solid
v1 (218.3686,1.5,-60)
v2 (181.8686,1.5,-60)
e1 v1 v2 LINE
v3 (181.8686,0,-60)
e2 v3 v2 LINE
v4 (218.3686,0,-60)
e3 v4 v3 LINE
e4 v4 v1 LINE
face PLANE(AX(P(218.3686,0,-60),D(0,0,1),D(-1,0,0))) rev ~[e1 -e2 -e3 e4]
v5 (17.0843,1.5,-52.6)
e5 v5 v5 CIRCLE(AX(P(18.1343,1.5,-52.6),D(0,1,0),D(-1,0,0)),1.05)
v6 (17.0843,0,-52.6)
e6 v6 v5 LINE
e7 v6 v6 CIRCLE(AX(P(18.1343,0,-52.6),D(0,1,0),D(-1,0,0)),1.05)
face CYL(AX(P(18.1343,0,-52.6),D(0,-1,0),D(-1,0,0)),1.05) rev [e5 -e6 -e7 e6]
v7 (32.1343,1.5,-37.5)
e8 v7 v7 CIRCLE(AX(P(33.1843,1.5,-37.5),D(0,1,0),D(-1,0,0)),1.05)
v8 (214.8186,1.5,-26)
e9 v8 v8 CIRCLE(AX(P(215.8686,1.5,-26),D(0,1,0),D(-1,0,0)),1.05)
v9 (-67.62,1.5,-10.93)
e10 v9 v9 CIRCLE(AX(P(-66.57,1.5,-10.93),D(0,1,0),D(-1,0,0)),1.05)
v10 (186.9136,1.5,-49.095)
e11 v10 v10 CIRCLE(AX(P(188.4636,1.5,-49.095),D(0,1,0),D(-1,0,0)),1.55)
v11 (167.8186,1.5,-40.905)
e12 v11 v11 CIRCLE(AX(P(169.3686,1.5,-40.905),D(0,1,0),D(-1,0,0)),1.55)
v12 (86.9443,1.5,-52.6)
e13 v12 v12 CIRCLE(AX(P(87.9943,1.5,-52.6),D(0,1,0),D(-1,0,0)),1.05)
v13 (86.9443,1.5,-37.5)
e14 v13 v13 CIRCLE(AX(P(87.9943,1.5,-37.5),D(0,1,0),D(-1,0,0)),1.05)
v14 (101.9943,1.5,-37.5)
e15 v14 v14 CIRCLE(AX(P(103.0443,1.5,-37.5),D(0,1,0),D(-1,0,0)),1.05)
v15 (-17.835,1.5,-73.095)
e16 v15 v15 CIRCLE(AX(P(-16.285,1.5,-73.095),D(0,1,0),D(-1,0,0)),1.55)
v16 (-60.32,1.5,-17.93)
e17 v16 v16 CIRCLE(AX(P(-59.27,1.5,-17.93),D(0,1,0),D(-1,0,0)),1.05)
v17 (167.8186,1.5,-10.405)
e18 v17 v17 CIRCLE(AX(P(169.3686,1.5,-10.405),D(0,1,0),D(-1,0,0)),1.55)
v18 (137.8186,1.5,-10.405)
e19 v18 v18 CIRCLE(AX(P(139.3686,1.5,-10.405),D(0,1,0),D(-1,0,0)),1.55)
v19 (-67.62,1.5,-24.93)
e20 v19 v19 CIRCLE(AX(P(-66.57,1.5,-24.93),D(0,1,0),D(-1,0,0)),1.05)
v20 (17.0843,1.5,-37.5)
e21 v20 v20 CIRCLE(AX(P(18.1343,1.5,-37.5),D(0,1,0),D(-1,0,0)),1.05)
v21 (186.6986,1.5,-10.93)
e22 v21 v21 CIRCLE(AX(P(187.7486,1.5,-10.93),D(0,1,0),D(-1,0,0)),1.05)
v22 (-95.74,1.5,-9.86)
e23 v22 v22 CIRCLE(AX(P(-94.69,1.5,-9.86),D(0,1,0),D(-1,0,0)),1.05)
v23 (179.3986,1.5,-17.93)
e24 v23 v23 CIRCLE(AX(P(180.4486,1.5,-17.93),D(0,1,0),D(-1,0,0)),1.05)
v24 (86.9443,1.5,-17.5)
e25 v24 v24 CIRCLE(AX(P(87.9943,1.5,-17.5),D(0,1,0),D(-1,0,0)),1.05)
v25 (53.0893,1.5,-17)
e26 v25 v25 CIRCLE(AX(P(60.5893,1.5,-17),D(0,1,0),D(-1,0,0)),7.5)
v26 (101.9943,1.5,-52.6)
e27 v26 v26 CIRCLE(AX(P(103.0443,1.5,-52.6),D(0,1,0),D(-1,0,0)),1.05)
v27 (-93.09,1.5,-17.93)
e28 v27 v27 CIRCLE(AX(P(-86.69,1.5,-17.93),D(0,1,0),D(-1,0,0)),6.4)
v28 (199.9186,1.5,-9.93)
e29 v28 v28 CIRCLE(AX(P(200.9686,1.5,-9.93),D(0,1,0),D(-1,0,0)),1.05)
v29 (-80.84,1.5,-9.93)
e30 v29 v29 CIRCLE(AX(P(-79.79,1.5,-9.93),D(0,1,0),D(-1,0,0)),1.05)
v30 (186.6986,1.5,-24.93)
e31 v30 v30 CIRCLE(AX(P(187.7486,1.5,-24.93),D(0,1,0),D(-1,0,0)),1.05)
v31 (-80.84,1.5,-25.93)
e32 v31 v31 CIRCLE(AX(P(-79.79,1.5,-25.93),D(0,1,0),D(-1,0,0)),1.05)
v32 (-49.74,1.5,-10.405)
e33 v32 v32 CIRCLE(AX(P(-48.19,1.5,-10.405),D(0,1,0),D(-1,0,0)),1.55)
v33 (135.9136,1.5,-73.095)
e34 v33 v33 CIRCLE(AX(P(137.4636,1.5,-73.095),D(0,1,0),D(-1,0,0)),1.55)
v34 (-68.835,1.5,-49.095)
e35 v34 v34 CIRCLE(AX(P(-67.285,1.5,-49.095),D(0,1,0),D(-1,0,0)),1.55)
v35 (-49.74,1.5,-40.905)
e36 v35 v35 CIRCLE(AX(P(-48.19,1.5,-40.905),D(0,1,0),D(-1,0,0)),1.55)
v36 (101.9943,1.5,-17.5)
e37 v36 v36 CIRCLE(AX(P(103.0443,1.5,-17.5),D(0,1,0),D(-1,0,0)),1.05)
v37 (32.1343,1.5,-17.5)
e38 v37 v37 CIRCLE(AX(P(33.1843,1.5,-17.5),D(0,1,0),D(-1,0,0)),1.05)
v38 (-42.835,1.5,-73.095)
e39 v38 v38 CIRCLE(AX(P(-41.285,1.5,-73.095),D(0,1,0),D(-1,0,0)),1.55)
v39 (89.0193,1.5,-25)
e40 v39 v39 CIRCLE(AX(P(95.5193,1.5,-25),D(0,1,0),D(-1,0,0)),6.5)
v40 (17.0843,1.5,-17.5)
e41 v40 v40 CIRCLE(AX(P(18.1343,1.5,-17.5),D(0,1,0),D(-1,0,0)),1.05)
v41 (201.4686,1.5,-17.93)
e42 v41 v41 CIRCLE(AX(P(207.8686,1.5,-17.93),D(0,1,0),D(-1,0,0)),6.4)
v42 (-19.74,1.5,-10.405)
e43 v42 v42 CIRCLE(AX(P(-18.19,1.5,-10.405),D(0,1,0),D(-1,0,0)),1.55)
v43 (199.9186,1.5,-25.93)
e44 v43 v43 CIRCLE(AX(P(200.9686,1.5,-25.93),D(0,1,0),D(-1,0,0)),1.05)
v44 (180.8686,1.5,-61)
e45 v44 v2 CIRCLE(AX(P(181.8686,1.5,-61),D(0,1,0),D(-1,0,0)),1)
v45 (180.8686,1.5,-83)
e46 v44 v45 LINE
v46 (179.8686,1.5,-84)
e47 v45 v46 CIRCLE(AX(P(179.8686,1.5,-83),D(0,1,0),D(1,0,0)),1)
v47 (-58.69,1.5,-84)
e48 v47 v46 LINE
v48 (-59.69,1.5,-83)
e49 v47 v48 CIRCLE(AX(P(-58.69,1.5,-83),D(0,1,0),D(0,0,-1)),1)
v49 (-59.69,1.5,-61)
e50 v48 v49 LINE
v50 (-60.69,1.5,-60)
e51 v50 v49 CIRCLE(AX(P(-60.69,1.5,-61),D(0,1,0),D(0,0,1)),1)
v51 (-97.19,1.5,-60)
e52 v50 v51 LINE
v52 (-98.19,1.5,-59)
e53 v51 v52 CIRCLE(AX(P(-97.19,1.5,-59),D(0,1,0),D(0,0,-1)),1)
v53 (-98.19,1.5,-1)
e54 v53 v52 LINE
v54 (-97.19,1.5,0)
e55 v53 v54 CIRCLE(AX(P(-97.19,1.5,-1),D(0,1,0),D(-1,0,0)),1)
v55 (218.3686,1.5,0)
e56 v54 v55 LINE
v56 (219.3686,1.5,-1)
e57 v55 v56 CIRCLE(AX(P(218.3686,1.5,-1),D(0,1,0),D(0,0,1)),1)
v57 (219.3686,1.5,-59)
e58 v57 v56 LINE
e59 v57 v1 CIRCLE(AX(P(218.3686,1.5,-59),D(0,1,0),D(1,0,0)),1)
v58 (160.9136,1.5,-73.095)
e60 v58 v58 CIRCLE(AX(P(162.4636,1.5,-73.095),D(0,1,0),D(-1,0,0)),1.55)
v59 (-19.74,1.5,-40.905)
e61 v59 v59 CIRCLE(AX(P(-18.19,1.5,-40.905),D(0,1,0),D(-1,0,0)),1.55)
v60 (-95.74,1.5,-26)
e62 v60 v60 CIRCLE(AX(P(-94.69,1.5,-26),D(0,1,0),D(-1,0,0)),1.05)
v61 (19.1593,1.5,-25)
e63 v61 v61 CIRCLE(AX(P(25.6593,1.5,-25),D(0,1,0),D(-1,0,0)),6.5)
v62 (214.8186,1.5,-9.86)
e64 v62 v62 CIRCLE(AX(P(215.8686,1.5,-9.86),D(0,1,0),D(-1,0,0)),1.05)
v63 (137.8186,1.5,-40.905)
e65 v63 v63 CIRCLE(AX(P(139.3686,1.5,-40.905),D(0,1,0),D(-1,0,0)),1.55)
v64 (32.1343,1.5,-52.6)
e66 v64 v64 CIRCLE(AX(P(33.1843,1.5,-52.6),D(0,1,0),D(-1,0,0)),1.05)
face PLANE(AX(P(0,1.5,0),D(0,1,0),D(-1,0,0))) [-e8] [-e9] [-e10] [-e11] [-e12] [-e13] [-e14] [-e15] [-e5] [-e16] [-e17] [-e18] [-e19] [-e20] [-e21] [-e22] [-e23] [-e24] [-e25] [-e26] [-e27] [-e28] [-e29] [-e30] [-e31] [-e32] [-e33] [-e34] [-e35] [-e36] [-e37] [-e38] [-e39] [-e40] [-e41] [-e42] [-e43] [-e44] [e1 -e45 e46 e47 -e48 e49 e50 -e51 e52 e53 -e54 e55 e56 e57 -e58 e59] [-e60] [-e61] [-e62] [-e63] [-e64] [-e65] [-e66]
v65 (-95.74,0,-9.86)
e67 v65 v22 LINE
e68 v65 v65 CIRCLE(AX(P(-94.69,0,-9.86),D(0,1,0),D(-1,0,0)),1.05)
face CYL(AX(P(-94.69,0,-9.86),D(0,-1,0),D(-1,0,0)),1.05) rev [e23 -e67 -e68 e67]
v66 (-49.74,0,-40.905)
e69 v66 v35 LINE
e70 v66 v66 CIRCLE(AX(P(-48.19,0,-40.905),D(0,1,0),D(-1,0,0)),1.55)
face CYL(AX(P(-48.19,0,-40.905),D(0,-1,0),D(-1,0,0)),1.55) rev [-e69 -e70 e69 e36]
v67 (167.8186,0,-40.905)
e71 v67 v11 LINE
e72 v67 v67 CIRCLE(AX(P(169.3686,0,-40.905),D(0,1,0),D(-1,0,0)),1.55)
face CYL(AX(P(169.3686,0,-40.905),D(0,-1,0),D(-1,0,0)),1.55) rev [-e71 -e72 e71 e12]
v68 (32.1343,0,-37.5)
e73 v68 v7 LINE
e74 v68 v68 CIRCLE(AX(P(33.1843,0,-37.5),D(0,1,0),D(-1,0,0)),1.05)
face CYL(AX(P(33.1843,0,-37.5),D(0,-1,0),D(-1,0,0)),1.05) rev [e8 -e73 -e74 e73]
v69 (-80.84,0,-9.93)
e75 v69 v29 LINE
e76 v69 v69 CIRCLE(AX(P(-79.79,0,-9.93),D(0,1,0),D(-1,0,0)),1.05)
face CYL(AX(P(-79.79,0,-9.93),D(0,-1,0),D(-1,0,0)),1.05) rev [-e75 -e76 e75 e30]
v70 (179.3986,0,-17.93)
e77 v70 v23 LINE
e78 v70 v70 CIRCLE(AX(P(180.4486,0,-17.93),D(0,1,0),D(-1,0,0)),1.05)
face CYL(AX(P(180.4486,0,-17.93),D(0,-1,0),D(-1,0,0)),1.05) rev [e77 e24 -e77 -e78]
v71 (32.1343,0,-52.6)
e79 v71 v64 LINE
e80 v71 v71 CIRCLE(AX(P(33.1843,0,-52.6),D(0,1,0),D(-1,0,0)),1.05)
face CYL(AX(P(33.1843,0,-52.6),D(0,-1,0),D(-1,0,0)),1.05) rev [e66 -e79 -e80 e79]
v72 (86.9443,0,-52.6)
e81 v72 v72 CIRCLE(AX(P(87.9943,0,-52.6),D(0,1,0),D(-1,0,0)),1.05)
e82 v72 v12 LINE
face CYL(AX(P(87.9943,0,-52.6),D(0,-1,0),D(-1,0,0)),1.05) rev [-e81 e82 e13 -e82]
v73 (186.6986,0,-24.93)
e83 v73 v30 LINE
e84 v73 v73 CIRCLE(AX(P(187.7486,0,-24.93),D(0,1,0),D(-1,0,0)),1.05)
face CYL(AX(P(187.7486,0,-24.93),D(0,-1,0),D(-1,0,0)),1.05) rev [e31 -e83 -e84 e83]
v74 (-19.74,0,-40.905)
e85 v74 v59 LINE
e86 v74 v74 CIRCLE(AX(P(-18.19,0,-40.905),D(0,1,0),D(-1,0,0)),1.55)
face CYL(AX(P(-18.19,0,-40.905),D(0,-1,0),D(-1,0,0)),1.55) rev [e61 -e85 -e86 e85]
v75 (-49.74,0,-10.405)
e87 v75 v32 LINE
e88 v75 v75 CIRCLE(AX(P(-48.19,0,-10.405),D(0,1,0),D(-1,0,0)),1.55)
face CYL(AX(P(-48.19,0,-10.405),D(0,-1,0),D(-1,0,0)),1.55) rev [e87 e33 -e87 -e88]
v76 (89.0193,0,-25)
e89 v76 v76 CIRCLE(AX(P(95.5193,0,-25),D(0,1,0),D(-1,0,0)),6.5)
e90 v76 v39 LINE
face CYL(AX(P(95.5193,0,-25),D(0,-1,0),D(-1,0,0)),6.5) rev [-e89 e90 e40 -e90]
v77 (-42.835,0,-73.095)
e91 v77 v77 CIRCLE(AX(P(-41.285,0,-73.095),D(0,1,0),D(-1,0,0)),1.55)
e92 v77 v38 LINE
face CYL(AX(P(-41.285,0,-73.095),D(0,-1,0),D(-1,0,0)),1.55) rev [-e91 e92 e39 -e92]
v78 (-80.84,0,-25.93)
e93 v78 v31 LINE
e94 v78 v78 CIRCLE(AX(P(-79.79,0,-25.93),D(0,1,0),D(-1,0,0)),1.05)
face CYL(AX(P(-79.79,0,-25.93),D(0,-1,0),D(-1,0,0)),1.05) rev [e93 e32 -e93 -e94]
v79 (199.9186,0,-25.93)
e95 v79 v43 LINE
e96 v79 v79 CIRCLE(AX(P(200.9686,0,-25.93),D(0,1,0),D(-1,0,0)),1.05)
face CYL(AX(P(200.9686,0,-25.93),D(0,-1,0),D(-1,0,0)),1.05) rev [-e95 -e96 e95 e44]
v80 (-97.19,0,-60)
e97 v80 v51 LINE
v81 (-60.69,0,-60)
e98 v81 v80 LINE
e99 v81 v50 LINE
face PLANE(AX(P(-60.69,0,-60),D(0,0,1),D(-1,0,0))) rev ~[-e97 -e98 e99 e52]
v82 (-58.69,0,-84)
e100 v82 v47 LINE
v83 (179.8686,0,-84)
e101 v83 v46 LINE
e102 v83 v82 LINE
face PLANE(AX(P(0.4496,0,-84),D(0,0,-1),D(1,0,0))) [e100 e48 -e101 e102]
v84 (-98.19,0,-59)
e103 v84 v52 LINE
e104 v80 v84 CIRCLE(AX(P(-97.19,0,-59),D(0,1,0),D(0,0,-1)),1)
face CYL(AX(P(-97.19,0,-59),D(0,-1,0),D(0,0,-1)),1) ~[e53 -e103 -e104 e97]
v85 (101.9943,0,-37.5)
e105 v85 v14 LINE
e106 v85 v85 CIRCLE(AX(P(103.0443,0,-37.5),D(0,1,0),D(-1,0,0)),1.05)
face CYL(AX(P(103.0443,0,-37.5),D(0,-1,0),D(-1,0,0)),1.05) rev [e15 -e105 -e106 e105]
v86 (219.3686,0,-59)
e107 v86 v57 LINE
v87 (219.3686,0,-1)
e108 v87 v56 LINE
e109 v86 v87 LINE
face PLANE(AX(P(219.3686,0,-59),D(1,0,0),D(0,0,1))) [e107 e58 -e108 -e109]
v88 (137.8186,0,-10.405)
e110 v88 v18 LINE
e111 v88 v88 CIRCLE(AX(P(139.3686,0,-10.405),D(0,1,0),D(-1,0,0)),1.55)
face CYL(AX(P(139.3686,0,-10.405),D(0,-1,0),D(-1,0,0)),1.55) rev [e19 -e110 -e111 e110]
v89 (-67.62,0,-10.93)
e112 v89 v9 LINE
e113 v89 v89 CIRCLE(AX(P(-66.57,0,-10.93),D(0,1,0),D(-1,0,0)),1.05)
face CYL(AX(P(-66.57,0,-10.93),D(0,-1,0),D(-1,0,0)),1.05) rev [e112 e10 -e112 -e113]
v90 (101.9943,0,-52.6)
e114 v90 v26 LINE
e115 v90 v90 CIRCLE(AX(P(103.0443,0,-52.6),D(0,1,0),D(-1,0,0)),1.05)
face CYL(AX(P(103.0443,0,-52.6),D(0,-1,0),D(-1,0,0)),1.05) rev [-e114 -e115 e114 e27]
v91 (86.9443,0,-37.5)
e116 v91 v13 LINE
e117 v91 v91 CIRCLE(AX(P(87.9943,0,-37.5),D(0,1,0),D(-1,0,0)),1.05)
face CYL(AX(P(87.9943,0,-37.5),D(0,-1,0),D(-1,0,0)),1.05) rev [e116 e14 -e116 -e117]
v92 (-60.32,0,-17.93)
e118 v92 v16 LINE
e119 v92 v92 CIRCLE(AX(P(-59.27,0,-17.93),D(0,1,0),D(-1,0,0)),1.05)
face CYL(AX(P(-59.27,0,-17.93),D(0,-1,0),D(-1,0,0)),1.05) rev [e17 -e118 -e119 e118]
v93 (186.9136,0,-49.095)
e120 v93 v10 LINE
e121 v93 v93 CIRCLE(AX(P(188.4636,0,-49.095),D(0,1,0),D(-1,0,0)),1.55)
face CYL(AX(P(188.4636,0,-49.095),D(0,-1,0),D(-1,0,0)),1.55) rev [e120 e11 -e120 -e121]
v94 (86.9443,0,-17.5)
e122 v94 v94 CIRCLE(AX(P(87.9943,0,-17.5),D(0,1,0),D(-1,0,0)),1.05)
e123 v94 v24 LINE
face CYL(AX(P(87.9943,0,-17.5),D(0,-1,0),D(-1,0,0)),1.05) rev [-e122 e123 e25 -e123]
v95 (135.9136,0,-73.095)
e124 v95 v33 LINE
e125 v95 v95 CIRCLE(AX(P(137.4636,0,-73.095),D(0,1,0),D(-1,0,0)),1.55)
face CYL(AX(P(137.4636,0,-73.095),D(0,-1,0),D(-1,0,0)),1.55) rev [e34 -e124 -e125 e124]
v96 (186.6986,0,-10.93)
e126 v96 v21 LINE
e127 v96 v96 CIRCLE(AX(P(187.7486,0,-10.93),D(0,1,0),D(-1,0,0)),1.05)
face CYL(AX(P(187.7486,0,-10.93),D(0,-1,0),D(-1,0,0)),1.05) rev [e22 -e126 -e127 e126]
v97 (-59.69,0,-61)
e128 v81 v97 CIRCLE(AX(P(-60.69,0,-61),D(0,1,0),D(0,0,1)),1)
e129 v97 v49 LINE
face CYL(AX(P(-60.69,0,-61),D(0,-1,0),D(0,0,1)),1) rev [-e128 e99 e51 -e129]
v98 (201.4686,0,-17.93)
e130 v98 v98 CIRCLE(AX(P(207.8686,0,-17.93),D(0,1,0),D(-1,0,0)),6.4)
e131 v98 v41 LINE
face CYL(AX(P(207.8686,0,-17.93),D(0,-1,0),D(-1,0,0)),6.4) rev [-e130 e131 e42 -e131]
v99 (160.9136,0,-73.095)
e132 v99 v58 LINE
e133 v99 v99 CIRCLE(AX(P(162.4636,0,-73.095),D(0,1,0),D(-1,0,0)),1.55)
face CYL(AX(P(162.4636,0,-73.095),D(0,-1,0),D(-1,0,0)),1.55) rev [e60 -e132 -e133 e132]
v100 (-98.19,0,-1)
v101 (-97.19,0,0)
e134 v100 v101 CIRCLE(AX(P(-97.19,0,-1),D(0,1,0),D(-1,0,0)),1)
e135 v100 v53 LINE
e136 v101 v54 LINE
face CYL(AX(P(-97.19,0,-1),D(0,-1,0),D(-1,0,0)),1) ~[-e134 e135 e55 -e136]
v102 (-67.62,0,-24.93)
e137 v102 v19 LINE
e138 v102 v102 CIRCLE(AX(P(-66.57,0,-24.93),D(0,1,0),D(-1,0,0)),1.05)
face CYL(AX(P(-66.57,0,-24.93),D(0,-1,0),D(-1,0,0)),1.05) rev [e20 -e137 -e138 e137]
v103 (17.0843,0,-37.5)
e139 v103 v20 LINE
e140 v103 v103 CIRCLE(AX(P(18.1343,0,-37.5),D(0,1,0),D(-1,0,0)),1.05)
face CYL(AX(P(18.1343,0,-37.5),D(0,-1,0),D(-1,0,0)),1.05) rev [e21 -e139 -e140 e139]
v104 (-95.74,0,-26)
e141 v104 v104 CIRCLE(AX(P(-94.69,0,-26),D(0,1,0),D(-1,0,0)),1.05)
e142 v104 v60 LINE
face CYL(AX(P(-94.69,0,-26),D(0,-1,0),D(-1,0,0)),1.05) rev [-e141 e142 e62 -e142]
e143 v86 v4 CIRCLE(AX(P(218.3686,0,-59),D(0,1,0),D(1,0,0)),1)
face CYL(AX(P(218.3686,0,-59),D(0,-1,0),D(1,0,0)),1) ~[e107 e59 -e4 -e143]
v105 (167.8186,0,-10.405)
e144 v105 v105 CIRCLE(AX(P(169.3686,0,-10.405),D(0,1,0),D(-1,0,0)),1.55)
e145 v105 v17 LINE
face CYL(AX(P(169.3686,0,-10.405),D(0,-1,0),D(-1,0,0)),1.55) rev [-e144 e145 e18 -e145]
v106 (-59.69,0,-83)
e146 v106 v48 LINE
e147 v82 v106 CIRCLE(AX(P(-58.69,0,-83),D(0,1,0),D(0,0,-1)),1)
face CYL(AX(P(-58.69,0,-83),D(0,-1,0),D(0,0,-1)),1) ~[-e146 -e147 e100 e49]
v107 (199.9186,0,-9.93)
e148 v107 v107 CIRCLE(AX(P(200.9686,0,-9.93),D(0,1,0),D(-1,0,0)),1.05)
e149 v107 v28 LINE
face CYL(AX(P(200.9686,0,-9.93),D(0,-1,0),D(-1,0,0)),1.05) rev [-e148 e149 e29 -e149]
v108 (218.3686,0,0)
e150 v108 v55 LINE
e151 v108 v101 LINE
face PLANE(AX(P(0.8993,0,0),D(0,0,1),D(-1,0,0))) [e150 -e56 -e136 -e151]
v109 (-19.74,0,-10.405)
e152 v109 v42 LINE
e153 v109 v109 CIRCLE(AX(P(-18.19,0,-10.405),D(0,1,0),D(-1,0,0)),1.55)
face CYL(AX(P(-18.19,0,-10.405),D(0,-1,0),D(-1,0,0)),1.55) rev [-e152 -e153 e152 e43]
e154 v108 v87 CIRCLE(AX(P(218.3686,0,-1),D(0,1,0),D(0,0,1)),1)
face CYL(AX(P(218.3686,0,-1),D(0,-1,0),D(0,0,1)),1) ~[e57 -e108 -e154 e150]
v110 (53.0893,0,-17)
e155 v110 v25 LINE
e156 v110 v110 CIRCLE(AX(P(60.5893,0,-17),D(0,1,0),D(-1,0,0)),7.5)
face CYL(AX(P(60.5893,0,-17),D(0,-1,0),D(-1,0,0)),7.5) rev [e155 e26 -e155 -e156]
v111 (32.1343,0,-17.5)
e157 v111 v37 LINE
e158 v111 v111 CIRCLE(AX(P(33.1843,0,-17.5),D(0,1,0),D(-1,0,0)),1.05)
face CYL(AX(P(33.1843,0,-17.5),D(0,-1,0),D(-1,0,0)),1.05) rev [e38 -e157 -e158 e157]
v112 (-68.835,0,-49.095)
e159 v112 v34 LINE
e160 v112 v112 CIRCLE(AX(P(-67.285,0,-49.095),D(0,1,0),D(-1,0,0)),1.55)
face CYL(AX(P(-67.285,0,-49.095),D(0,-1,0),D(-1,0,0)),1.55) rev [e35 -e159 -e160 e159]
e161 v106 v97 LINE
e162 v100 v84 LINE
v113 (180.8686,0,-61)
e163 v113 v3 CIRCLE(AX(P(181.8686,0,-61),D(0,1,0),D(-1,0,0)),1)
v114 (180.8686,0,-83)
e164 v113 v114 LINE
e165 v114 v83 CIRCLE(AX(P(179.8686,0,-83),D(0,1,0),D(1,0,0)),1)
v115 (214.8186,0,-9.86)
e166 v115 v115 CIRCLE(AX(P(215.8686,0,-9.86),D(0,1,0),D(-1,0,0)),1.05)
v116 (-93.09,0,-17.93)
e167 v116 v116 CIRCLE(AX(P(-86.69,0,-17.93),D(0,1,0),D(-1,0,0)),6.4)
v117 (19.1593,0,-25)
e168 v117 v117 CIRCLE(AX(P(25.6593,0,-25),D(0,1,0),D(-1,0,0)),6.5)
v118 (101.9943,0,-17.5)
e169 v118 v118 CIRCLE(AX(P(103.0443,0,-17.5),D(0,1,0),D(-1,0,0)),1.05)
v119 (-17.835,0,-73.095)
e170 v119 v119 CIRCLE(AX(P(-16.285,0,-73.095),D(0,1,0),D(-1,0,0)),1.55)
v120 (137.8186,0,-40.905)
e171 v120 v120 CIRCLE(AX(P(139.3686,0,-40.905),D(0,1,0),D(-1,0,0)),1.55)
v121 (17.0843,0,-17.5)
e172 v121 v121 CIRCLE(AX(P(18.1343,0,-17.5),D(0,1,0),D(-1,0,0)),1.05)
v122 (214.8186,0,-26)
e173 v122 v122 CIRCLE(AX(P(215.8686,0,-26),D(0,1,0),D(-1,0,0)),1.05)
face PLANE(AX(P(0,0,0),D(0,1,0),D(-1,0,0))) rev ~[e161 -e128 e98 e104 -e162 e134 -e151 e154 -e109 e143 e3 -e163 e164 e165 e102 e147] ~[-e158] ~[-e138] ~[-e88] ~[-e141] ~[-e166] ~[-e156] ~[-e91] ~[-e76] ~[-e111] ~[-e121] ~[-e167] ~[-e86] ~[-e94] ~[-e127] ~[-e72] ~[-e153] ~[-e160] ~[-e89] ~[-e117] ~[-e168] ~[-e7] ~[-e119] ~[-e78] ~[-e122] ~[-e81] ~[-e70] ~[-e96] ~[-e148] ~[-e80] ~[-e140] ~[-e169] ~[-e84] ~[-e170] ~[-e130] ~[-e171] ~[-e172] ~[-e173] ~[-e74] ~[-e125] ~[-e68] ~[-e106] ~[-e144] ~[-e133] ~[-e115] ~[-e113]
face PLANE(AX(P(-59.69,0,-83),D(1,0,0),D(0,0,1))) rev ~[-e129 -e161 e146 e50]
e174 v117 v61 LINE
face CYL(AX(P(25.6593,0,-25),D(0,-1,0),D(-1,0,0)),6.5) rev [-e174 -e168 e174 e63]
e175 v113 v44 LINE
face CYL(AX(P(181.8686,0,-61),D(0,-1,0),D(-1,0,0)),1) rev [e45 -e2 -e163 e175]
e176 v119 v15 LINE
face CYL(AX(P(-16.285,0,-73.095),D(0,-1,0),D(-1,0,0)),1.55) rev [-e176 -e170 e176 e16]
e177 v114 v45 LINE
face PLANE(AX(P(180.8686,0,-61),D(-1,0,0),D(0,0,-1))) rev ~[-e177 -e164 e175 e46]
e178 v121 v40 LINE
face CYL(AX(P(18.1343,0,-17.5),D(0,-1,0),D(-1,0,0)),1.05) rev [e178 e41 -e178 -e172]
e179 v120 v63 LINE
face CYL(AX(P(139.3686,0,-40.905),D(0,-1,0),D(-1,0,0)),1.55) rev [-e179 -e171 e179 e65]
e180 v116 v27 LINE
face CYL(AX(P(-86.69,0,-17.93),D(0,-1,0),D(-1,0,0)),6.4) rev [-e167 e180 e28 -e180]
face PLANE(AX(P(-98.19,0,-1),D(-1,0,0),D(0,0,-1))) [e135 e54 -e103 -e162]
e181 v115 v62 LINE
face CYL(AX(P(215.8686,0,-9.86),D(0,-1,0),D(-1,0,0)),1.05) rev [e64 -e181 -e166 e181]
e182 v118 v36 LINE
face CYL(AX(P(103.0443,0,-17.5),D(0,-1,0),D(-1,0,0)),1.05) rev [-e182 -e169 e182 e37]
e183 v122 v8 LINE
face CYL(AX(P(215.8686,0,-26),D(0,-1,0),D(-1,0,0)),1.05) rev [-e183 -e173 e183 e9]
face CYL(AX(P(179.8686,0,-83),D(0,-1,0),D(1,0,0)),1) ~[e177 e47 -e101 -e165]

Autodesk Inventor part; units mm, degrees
ref_plane "YZ Plane" through (0, 0, 0) normal (1, 0, 0) x (0, 1, 0)
ref_plane "XZ Plane" through (0, 0, 0) normal (0, 1, 0) x (-1, 0, 0)
ref_plane "XY Plane" through (0, 0, 0) normal (0, 0, 1) x (1, 0, 0)
sketch "Sketch1" plane through (0, 0, 0) normal (0, 1, 0) x (-1, 0, 0)
  line L0 (-0.4496, -84) -> (-0.4496, 0)
  line L1 (-120.7289, 0) -> (-120.7289, -84)
  circle A0 centre (-60.5893, -17) radius 7.5
  circle A1 centre (-25.6593, -25) radius 6.5
  circle A2 centre (-95.5193, -25) radius 6.5
  circle A3 centre (-18.1343, -17.5) radius 1.05
  circle A4 centre (-18.1343, -37.5) radius 1.05
  circle A5 centre (-18.1343, -52.6) radius 1.05
  circle A6 centre (-33.1843, -52.6) radius 1.05
  circle A7 centre (-33.1843, -37.5) radius 1.05
  circle A8 centre (-33.1843, -17.5) radius 1.05
  circle A9 centre (-87.9943, -17.5) radius 1.05
  circle A10 centre (-87.9943, -37.5) radius 1.05
  circle A11 centre (-87.9943, -52.6) radius 1.05
  circle A12 centre (-103.0443, -52.6) radius 1.05
  circle A13 centre (-103.0443, -37.5) radius 1.05
  circle A14 centre (-103.0443, -17.5) radius 1.05
  circle A15 centre (-215.8686, -26) radius 1.05
  circle A16 centre (94.69, -26) radius 1.05
  circle A17 centre (-215.8686, -9.86) radius 1.05
  circle A18 centre (94.69, -9.86) radius 1.05
  circle A19 centre (-207.8686, -17.93) radius 6.4
  circle A20 centre (86.69, -17.93) radius 6.4
  circle A21 centre (-188.4636, -49.095) radius 1.55
  circle A22 centre (67.285, -49.095) radius 1.55
  circle A23 centre (-137.4636, -73.095) radius 1.55
  circle A24 centre (16.285, -73.095) radius 1.55
  circle A25 centre (-162.4636, -73.095) radius 1.55
  circle A26 centre (41.285, -73.095) radius 1.55
  circle A27 centre (-139.3686, -40.905) radius 1.55
  circle A28 centre (18.19, -40.905) radius 1.55
  circle A29 centre (-169.3686, -40.905) radius 1.55
  circle A30 centre (48.19, -40.905) radius 1.55
  circle A31 centre (-139.3686, -10.405) radius 1.55
  circle A32 centre (18.19, -10.405) radius 1.55
  circle A33 centre (-169.3686, -10.405) radius 1.55
  circle A34 centre (48.19, -10.405) radius 1.55
  circle A35 centre (-200.9686, -9.93) radius 1.05
  circle A36 centre (-200.9686, -25.93) radius 1.05
  circle A37 centre (-187.7486, -24.93) radius 1.05
  circle A38 centre (-180.4486, -17.93) radius 1.05
  circle A39 centre (-187.7486, -10.93) radius 1.05
  circle A40 centre (79.79, -9.93) radius 1.05
  circle A41 centre (79.79, -25.93) radius 1.05
  circle A42 centre (66.57, -24.93) radius 1.05
  circle A43 centre (59.27, -17.93) radius 1.05
  circle A44 centre (66.57, -10.93) radius 1.05
  arc A45 (-219.3686, -59) -> (-218.3686, -60) centre (-218.3686, -59) ccw
  line L2 (-218.3686, -60) -> (-181.8686, -60)
  arc A46 (-180.8686, -61) -> (-181.8686, -60) centre (-181.8686, -61) ccw
  arc A47 (-180.8686, -83) -> (-179.8686, -84) centre (-179.8686, -83) ccw
  line L3 (-180.8686, -61) -> (-180.8686, -83)
  arc A48 (58.69, -84) -> (59.69, -83) centre (58.69, -83) ccw
  line L4 (59.69, -83) -> (59.69, -61)
  arc A49 (60.69, -60) -> (59.69, -61) centre (60.69, -61) ccw
  line L5 (60.69, -60) -> (97.19, -60)
  arc A50 (97.19, -60) -> (98.19, -59) centre (97.19, -59) ccw
  line L6 (98.19, -1) -> (98.19, -59)
  arc A51 (98.19, -1) -> (97.19, 0) centre (97.19, -1) ccw
  line L7 (-218.3686, 0) -> (97.19, 0)
  arc A52 (-218.3686, 0) -> (-219.3686, -1) centre (-218.3686, -1) ccw
  line L8 (-219.3686, -59) -> (-219.3686, -1)
  line L9 (58.69, -84) -> (-179.8686, -84)
  line L10 (-121.1786, -84) -> (-121.1786, 0)
  line L11 (-120.2793, 0) -> (-120.2793, -84)
  line L12 (-0.8993, -84) -> (-0.8993, 0)
  line L13 (0, 0) -> (0, -84)
  point P0 (0, 0)
extrude "Extrusion1" add sketch "Sketch1" along normal blind 1.5
properties part number "body_main_frame"
